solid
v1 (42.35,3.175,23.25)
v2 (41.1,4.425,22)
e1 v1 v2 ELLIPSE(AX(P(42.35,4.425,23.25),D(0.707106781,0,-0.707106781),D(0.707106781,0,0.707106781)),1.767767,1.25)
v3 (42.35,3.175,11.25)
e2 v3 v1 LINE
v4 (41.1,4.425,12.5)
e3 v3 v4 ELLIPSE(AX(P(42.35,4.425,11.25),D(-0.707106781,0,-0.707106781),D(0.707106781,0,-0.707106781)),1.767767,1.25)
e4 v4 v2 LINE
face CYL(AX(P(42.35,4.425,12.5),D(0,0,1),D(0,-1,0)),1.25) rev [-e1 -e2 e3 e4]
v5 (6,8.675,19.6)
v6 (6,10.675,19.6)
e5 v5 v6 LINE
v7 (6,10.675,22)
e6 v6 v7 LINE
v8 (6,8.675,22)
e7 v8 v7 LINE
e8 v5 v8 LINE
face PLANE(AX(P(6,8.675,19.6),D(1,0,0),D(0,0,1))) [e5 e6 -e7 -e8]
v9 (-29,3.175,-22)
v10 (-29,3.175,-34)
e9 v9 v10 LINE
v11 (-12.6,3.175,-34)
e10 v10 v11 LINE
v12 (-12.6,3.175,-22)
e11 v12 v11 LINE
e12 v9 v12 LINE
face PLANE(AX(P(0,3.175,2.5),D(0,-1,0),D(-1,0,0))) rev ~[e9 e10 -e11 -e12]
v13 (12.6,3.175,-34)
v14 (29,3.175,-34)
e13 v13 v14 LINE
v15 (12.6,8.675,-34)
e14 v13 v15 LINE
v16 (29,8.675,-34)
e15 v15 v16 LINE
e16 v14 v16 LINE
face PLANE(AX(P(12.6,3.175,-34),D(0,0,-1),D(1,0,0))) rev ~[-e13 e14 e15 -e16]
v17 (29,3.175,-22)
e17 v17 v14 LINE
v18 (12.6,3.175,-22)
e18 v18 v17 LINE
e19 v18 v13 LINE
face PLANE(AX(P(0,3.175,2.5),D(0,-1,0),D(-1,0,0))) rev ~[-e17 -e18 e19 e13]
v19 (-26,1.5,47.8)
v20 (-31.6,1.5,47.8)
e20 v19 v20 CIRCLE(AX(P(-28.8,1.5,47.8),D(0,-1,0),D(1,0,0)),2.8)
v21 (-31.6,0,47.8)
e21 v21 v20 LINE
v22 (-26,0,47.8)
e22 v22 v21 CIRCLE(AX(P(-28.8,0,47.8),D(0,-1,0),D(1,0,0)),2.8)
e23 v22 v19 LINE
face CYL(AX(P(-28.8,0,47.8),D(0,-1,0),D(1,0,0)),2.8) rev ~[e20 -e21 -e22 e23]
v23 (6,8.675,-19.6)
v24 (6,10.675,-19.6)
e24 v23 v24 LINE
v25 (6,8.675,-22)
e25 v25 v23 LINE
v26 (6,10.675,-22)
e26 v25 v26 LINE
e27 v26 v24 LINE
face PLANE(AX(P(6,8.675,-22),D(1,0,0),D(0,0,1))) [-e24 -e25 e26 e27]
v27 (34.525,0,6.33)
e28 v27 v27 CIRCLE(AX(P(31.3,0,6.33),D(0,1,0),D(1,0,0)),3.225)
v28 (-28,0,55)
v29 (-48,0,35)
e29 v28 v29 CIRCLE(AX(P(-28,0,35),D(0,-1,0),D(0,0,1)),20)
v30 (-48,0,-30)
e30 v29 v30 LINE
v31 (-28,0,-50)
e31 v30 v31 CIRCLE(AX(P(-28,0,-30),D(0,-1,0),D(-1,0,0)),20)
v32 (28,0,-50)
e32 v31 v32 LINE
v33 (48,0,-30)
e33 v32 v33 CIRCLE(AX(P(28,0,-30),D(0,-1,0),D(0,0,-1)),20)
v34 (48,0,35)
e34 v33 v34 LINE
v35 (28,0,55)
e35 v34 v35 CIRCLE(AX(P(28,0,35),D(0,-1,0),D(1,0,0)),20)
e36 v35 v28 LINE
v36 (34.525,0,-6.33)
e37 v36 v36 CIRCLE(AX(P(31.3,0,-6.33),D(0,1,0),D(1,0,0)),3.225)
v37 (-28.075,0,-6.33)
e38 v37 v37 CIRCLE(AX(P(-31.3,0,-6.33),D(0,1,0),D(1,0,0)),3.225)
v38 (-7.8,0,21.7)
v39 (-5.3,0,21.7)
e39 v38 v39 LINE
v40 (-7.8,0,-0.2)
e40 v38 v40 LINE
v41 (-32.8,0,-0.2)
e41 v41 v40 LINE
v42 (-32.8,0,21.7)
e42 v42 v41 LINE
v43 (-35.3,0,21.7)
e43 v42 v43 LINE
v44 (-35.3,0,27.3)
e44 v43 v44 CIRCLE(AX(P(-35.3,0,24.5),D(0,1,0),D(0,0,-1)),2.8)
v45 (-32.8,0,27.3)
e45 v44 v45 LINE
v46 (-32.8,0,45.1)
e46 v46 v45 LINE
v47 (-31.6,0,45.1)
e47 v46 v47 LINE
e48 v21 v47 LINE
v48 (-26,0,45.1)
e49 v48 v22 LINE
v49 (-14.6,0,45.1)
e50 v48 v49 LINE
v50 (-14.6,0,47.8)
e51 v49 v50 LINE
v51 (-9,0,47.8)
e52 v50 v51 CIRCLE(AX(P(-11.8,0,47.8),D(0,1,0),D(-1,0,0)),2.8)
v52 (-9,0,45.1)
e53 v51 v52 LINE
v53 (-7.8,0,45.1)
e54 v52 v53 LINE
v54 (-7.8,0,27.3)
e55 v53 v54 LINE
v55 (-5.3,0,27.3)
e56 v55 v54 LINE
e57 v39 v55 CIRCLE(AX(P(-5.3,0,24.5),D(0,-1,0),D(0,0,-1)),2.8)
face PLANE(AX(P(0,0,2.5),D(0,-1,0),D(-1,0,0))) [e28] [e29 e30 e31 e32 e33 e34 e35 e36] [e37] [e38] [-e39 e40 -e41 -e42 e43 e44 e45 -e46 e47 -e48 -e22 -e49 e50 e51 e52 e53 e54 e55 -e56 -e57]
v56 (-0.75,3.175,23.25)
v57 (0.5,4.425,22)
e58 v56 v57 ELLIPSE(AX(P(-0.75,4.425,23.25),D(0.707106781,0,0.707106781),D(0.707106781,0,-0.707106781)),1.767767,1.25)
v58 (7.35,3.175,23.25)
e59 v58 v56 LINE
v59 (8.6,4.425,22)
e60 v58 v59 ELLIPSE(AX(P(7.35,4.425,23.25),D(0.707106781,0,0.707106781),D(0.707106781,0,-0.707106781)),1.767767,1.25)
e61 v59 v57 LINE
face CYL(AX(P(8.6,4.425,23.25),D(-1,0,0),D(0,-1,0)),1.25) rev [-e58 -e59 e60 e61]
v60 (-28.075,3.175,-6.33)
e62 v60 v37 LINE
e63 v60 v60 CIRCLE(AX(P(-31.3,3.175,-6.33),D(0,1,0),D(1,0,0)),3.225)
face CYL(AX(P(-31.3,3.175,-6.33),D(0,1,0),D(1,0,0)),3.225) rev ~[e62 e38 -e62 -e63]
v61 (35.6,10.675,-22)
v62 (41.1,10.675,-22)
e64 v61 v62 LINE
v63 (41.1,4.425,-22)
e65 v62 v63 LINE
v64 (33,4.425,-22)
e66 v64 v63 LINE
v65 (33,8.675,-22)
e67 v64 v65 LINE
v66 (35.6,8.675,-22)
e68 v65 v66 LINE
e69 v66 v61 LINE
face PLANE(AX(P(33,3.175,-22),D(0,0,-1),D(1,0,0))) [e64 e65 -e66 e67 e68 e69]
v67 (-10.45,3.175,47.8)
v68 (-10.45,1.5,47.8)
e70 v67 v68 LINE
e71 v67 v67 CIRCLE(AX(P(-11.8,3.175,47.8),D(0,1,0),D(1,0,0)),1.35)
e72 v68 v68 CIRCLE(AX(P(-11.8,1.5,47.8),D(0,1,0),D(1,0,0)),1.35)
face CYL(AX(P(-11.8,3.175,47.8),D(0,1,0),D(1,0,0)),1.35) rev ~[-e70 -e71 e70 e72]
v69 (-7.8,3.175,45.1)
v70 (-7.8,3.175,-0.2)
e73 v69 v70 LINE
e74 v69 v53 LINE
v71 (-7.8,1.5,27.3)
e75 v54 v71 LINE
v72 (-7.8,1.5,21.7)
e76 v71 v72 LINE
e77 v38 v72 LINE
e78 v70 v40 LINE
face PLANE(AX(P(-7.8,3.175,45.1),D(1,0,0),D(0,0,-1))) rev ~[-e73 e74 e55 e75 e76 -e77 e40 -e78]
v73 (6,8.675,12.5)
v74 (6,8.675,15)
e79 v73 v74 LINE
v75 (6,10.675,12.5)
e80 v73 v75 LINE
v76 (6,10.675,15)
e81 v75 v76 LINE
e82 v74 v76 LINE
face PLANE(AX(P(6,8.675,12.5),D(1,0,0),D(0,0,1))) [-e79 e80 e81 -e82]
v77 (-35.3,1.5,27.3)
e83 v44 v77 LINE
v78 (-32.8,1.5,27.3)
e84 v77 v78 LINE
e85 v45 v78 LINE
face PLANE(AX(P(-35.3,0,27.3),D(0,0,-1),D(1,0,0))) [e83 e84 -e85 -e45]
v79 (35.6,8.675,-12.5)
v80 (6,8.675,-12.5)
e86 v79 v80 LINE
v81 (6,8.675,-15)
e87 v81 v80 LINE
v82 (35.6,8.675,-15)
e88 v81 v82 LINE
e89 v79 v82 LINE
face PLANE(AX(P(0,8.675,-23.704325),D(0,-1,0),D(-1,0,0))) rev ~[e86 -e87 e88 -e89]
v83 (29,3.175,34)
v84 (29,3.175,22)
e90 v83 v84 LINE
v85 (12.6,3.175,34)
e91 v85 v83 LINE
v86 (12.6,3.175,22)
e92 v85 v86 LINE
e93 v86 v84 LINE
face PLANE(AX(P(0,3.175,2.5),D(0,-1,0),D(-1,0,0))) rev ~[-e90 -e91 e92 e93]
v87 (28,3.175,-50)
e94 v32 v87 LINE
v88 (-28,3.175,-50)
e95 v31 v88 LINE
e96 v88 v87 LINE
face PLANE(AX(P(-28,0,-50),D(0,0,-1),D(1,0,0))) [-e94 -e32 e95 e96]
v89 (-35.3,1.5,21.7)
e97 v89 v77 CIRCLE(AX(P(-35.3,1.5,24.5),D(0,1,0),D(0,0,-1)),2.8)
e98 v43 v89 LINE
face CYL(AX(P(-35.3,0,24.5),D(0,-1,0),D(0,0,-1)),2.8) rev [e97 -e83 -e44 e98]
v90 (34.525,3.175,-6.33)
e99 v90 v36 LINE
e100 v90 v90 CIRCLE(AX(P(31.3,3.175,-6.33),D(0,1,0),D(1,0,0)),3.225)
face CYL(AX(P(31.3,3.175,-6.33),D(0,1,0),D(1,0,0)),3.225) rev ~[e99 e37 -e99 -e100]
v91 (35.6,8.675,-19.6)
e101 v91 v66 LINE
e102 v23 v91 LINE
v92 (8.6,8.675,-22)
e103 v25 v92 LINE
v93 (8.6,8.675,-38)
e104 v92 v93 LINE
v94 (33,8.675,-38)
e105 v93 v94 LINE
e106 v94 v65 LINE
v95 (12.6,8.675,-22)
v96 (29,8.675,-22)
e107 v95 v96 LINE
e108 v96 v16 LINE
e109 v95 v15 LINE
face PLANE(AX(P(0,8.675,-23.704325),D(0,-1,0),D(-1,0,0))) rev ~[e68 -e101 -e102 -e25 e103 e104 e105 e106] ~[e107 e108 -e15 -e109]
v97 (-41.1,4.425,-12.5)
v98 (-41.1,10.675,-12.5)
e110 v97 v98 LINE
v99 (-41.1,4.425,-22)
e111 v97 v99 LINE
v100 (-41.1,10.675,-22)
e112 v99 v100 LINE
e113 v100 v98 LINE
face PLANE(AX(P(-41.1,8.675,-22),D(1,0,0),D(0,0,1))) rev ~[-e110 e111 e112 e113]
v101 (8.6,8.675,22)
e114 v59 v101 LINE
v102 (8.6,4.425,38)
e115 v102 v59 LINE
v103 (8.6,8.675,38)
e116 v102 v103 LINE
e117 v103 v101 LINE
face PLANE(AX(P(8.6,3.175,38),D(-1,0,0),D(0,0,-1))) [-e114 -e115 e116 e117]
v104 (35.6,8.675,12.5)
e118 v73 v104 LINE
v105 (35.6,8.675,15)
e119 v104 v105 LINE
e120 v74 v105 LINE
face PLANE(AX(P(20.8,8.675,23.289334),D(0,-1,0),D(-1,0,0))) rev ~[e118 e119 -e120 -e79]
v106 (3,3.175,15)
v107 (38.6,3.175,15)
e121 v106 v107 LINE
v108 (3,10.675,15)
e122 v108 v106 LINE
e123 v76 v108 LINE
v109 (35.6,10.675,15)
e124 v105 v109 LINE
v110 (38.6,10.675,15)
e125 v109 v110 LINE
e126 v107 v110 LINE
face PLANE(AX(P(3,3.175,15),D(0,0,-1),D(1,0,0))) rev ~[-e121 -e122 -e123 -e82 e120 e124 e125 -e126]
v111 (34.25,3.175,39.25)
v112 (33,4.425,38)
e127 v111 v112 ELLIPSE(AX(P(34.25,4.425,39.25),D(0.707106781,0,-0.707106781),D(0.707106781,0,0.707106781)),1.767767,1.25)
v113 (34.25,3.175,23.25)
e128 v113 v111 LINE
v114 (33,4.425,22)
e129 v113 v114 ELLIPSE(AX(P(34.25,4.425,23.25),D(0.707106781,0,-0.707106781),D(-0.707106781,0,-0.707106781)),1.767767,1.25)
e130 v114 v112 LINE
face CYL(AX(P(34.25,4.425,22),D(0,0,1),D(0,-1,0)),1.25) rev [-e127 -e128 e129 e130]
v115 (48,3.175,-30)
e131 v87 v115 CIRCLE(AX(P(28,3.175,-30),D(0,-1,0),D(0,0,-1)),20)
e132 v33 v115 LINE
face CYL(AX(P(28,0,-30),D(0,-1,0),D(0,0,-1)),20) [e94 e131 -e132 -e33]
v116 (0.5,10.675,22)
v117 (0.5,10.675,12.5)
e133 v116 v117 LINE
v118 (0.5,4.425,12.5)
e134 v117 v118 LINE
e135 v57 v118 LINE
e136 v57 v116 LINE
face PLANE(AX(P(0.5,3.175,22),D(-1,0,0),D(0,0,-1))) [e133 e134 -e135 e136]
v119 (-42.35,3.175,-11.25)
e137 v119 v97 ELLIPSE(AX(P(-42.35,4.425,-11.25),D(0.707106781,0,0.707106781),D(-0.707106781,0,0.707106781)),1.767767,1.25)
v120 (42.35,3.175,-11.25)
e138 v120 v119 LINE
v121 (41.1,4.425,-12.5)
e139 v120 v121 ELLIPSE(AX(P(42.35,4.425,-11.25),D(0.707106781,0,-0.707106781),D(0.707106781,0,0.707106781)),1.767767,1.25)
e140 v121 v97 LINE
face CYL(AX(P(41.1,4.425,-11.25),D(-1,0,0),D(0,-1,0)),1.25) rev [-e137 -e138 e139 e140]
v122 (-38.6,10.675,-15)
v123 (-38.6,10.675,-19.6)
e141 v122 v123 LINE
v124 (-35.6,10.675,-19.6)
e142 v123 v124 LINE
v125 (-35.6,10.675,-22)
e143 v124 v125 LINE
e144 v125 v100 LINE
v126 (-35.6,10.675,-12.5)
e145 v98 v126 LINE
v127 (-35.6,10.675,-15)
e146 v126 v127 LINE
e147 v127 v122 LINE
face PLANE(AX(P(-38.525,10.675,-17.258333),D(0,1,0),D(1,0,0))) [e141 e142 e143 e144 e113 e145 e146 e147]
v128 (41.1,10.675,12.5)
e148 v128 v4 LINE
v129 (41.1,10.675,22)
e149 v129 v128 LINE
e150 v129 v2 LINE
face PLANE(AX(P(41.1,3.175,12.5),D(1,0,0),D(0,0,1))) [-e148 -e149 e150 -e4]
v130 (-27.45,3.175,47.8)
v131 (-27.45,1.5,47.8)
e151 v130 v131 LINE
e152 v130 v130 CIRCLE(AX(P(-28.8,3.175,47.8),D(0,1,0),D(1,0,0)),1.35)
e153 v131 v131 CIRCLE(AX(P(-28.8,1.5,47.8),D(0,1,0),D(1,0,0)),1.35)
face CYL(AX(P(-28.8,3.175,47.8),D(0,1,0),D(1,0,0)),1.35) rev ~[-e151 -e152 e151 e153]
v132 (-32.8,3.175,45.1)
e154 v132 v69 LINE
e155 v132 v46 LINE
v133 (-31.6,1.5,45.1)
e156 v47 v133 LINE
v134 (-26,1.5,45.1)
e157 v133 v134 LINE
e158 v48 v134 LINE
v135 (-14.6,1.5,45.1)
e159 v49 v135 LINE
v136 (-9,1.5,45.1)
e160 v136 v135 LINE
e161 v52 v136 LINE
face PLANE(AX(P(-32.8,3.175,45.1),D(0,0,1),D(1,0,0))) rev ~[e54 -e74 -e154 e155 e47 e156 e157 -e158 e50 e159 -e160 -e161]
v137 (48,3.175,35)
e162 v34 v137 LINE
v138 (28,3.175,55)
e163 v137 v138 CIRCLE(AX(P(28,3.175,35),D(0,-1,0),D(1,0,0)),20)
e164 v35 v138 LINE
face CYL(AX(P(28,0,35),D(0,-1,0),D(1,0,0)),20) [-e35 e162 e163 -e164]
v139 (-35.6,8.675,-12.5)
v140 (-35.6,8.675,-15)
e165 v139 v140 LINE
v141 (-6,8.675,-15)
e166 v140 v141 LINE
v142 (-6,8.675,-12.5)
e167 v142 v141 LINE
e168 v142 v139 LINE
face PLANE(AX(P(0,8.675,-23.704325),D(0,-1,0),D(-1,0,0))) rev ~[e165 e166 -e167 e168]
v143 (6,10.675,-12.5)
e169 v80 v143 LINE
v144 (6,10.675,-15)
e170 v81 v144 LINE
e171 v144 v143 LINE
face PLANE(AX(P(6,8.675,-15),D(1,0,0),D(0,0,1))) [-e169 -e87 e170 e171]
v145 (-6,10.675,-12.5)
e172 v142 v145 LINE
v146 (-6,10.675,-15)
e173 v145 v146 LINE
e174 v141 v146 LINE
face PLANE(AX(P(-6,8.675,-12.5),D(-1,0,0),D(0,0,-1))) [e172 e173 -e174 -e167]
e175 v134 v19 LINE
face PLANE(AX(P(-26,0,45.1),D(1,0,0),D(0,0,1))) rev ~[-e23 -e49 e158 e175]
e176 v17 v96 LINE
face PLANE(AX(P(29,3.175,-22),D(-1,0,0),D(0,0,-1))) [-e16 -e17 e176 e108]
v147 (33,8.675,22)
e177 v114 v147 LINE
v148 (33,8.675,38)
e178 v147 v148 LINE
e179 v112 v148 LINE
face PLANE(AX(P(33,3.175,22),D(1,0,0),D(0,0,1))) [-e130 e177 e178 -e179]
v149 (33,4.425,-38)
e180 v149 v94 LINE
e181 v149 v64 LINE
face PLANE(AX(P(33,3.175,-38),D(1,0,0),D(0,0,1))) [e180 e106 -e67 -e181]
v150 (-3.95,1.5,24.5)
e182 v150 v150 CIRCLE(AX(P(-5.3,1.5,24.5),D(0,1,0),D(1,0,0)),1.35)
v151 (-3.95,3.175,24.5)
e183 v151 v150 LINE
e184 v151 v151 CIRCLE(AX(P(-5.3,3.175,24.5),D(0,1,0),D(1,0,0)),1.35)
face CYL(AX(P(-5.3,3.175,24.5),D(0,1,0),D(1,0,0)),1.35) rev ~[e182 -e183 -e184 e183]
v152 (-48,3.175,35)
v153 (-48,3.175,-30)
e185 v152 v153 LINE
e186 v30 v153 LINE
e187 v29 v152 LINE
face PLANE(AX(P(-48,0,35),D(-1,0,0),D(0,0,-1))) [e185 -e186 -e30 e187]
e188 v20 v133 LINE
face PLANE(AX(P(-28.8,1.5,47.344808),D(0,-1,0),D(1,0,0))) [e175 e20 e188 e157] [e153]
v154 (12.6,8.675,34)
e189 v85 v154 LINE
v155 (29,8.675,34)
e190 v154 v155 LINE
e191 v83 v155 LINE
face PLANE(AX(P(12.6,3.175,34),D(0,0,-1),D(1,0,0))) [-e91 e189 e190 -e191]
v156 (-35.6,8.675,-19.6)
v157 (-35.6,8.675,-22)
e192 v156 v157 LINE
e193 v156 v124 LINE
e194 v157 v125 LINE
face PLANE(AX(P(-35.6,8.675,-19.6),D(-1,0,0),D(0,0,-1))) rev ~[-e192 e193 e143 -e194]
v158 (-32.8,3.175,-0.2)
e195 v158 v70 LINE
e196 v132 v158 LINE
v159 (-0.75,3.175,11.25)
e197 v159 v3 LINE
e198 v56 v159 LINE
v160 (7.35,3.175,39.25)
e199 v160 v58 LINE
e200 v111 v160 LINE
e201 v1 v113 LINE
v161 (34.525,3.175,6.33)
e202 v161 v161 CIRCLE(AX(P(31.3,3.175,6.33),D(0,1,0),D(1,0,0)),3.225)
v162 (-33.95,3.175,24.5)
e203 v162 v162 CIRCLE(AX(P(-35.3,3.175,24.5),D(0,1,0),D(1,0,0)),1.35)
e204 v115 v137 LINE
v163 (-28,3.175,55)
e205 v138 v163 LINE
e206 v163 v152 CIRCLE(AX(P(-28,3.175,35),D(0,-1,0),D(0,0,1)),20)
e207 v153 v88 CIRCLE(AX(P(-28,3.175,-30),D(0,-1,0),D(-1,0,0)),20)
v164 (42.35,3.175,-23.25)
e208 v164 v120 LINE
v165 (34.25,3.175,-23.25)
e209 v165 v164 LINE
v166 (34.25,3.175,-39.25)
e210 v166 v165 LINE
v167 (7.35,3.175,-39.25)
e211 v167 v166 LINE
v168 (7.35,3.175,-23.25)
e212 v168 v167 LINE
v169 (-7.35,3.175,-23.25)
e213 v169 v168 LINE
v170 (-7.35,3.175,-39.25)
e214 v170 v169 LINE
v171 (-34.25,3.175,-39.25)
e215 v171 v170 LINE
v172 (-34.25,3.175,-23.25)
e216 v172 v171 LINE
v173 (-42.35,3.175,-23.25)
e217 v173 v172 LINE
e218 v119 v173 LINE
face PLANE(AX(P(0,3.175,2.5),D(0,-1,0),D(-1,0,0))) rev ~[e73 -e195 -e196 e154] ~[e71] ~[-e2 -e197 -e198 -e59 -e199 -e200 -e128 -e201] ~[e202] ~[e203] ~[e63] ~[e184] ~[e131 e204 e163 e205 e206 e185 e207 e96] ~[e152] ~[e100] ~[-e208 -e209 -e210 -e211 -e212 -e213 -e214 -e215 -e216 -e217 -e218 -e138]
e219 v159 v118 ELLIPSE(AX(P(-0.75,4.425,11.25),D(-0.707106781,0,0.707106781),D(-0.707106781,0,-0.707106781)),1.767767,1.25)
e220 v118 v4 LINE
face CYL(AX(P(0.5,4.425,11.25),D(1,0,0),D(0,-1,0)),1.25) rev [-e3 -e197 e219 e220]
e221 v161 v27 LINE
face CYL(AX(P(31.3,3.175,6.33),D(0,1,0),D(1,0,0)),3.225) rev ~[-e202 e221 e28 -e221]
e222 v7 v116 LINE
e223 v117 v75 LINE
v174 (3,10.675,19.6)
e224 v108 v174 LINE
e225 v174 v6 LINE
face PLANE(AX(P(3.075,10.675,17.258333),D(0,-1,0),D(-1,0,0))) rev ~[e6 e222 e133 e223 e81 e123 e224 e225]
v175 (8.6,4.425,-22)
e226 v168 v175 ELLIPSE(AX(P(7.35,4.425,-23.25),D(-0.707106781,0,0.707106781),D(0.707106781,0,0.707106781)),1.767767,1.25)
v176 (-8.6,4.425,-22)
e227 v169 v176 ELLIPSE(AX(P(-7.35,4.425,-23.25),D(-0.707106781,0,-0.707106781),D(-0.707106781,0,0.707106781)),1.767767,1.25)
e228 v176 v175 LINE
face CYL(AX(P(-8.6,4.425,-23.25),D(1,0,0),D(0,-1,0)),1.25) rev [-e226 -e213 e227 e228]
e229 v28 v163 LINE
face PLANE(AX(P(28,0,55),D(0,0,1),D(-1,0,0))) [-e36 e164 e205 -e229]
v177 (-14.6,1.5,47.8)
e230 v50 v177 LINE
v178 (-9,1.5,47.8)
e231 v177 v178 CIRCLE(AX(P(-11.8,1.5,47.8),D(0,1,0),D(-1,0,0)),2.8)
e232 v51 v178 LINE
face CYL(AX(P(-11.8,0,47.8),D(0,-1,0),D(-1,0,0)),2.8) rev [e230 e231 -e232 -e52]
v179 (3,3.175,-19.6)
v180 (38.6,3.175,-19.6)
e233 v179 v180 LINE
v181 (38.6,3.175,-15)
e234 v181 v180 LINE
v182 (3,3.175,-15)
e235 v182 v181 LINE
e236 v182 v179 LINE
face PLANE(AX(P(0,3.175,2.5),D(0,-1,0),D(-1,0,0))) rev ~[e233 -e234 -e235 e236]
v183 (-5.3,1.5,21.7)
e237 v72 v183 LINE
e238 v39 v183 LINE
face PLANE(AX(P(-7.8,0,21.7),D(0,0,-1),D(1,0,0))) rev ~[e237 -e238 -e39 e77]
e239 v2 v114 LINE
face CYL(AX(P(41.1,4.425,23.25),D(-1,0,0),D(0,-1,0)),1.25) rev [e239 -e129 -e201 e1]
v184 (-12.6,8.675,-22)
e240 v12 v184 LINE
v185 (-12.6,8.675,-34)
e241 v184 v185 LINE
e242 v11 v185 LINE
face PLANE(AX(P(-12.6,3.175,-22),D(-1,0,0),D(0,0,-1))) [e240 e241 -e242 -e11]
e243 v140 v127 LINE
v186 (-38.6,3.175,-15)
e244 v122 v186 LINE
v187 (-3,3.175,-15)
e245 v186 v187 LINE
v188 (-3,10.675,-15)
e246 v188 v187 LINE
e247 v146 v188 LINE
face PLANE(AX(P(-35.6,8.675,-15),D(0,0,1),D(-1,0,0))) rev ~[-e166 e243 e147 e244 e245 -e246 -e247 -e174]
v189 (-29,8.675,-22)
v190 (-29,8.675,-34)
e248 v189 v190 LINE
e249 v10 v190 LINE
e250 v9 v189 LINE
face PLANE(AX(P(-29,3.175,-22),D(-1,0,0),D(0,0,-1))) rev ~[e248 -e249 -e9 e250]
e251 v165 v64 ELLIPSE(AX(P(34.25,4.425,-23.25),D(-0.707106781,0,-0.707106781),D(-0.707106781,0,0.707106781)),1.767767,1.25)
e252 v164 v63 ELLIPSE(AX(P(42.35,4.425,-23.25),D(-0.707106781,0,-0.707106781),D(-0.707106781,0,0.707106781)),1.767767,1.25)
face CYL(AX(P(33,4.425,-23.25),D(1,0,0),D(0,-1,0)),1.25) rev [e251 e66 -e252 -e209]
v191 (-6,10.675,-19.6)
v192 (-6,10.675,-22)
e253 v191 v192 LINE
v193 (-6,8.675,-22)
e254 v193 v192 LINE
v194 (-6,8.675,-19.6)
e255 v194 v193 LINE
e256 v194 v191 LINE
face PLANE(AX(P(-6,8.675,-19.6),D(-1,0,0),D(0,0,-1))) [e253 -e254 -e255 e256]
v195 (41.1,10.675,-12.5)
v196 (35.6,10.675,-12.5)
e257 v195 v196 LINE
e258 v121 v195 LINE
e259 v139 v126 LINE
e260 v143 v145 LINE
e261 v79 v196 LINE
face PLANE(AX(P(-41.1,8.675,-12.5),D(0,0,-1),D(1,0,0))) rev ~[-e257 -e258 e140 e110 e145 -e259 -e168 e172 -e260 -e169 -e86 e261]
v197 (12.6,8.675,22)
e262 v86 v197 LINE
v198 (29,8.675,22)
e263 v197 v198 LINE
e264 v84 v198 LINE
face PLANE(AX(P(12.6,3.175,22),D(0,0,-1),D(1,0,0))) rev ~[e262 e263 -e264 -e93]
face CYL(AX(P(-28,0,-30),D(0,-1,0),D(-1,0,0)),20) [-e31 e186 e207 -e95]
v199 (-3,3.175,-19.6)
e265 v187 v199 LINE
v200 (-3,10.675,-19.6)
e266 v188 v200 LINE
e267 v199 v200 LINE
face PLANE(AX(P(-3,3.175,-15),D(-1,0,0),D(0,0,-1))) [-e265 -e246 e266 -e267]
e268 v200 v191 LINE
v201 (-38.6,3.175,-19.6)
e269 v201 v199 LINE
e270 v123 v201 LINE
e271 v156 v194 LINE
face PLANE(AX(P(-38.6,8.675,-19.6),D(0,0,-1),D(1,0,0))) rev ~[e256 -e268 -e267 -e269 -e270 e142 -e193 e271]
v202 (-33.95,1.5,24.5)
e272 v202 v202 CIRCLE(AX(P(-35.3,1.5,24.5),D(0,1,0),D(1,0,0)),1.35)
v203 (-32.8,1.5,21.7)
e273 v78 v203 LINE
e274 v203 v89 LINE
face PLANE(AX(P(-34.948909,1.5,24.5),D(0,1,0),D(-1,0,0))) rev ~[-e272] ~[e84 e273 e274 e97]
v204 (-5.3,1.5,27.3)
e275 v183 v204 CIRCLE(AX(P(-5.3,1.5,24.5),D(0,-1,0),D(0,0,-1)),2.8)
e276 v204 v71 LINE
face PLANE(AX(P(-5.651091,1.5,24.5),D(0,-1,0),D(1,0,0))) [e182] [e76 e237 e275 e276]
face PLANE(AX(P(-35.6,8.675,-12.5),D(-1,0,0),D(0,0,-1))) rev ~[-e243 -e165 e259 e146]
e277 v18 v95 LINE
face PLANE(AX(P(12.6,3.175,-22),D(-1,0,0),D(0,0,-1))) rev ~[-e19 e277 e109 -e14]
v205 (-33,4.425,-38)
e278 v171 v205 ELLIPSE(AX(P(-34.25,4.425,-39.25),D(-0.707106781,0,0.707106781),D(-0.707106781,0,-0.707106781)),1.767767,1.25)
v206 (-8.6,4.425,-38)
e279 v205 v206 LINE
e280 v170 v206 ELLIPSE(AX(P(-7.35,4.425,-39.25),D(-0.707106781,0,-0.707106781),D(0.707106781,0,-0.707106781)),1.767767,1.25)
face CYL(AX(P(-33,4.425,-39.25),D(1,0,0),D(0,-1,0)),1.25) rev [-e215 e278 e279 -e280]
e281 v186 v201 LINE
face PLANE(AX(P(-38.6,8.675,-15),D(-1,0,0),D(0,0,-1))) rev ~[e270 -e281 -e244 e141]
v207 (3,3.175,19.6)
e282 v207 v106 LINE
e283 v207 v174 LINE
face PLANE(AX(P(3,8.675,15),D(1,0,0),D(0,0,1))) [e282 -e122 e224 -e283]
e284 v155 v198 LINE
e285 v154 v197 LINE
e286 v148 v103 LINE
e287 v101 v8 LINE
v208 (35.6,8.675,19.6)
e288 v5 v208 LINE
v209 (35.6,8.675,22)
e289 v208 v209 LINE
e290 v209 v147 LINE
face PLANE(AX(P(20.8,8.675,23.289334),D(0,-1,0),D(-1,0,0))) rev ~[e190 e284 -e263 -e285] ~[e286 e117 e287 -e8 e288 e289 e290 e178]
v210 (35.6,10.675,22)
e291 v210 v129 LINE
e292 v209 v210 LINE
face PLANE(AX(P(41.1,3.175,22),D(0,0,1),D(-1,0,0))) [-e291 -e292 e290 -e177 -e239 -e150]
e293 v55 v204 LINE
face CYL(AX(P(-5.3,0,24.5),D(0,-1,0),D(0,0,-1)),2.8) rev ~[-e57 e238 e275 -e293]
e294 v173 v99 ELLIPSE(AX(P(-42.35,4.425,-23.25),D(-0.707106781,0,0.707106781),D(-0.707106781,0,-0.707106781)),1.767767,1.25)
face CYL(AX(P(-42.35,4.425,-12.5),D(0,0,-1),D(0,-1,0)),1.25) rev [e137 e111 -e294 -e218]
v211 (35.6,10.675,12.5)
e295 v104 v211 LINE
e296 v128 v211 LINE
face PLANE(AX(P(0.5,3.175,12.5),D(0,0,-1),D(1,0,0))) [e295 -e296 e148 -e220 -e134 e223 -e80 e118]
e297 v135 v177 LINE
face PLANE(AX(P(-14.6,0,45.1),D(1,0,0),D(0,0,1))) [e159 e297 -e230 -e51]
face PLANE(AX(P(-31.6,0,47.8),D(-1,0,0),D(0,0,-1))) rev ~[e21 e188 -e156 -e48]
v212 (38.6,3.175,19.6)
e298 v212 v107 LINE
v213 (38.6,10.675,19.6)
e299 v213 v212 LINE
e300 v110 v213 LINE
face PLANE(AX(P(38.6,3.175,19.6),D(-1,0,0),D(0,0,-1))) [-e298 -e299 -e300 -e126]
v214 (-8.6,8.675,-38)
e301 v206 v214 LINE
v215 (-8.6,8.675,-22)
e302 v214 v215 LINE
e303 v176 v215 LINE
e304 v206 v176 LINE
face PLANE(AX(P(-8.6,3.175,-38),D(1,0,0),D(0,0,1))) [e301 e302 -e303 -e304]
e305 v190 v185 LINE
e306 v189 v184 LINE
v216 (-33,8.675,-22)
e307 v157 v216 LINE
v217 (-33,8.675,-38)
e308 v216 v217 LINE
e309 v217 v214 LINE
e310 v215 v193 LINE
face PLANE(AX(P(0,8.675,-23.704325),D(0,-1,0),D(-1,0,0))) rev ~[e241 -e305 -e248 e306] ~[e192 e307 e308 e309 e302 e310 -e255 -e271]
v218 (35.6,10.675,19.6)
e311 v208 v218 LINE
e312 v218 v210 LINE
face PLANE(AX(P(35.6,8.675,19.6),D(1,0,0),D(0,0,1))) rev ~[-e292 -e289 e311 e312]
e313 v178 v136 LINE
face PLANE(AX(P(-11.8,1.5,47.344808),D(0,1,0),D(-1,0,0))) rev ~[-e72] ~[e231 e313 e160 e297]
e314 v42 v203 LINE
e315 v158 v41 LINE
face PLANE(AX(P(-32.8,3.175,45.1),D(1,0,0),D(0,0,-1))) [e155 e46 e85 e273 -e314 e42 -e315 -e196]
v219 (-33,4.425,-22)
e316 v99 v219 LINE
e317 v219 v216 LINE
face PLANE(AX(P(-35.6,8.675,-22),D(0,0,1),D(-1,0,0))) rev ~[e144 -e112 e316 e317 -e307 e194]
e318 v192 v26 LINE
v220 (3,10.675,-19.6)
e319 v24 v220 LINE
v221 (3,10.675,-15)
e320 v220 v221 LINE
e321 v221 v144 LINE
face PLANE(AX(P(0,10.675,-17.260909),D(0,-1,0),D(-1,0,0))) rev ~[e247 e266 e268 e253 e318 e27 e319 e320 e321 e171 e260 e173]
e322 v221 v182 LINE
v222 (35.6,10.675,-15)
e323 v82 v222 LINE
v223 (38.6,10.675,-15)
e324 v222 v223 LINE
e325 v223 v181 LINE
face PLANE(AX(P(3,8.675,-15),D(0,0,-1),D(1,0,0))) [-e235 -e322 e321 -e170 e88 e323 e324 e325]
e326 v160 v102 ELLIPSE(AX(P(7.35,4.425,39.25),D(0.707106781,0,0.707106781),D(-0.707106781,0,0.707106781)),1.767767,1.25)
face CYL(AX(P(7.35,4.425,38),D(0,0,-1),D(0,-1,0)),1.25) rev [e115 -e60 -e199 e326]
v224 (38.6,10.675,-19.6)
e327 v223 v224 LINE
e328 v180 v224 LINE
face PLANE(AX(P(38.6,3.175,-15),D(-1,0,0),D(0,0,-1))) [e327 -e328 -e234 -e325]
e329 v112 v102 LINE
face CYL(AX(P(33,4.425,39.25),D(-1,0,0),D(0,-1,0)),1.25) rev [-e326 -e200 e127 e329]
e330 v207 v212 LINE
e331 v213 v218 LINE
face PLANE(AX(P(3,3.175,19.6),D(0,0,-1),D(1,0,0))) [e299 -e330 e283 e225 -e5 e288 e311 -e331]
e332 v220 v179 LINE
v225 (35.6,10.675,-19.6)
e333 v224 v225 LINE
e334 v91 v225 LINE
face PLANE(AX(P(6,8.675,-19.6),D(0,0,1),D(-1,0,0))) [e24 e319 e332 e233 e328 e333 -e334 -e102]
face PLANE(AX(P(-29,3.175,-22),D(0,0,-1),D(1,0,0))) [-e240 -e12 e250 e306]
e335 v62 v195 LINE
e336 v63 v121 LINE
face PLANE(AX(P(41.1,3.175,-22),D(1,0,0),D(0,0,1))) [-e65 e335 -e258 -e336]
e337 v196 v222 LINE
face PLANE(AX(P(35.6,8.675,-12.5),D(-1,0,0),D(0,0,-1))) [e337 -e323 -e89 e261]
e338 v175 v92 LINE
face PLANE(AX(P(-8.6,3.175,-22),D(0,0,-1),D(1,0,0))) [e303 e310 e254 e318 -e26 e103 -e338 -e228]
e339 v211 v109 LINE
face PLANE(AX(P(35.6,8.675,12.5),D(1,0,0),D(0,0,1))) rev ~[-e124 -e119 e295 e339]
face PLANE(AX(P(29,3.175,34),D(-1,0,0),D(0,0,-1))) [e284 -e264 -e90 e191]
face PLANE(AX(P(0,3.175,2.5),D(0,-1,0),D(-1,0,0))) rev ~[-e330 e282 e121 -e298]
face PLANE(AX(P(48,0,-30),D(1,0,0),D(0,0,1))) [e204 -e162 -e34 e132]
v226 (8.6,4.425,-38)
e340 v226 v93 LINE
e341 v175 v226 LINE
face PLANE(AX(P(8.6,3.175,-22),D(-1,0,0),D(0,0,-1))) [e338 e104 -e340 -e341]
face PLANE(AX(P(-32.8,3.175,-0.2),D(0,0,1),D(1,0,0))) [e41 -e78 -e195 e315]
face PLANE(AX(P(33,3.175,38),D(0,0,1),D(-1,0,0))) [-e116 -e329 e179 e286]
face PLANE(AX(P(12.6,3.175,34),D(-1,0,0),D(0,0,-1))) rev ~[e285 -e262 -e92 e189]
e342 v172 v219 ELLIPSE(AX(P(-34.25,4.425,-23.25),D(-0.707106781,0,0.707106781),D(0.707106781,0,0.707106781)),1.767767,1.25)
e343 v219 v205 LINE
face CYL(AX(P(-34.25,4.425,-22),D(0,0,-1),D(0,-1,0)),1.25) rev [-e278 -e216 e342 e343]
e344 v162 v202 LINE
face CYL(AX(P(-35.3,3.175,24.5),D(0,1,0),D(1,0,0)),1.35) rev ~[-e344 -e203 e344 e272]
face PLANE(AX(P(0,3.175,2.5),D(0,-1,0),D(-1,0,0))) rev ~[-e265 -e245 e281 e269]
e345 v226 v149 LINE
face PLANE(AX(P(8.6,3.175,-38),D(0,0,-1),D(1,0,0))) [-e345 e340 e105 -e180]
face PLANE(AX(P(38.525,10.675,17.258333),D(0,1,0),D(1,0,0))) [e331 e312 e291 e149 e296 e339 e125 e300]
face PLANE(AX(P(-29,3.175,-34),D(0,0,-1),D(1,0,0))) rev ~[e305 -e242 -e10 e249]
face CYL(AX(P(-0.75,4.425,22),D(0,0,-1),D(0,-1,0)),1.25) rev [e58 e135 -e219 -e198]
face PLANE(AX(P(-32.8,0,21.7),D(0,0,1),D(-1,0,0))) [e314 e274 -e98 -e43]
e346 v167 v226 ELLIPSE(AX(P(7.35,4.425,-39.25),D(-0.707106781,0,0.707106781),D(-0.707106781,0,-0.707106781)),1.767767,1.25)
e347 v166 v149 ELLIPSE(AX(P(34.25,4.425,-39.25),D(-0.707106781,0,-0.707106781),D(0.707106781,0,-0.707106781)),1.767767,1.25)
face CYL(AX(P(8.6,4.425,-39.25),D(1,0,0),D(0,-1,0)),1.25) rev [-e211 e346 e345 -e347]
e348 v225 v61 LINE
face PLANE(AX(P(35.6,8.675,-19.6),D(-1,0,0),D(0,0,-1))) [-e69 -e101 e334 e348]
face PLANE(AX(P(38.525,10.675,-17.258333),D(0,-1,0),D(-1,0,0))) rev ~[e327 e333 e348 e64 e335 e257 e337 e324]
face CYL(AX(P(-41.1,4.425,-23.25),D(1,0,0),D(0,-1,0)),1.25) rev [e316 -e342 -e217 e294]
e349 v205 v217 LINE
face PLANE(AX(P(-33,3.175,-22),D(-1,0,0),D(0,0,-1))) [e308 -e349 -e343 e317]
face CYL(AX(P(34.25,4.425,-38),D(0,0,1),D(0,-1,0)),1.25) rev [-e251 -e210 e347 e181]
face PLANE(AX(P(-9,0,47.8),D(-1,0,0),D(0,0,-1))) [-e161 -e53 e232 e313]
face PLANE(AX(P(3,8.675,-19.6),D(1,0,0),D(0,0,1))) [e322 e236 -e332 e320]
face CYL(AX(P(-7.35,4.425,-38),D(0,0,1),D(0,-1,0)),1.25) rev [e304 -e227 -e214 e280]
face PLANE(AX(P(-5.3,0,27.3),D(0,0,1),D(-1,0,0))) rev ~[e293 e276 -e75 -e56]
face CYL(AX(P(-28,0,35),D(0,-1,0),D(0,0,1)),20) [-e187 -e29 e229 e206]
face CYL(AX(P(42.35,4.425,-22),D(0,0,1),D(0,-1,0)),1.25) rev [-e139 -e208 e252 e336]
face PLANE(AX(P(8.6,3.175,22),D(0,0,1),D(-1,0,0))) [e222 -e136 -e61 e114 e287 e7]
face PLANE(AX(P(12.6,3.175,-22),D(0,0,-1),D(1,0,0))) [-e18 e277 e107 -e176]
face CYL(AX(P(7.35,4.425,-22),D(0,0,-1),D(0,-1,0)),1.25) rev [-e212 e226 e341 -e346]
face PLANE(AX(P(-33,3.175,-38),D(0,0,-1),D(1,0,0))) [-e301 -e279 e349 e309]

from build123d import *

# Parameters (mm, degrees)
W_TOP_DEPTH         = 3.175
SKETCH3_W           = 35.6
SKETCH3_H           = 4.6
SKETCH3_W_2         = 16.4
SKETCH3_H_2         = 12
A_HOLDERS_DEPTH     = 5.5
HOLDER_CHAMFER_R    = 1.25
A_CLAMP_DEPTH       = 2
SKETCH12_R          = 1.35
SKETCH12_W          = 25
SKETCH12_H          = 45.3
A_HOLES_DEPTH       = 3.175
A_HOLES_GUIDE_DEPTH = 1.5
SKETCH15_R          = 3.225
TENDON_HOLES_DEPTH  = 3.175


with BuildPart() as part:
    # Sketch1 → w_top (new body)
    with BuildSketch(Plane(origin=(0, 0, 0), x_dir=(1, 0, 0), z_dir=(0, 1, 0))):
        with BuildLine():
            Line((-48, -35), (-48, 30))
            ThreePointArc((-48, 30), (-42.142135624, 44.142135624), (-28, 50))
            Line((-28, 50), (28, 50))
            ThreePointArc((28, 50), (42.142135624, 44.142135624), (48, 30))
            Line((48, 30), (48, -35))
            ThreePointArc((48, -35), (42.142135624, -49.142135624), (28, -55))
            Line((28, -55), (-28, -55))
            ThreePointArc((-28, -55), (-42.142135624, -49.142135624), (-48, -35))
        make_face()
    extrude(amount=W_TOP_DEPTH)

    # Sketch3 → a_holders (add)
    with BuildSketch(Plane(origin=(0, 3.175, 0), x_dir=(1, 0, 0), z_dir=(0, 1, 0))):
        Polygon((-33, 22), (-33, 38), (-8.6, 38), (-8.6, 22), (8.6, 22), (8.6, 38), (33, 38), (33, 22), (41.1, 22), (41.1, 12.5), (-41.1, 12.5), (-41.1, 22), align=None)
        with Locations((20.8, 17.3)):
            Rectangle(SKETCH3_W, SKETCH3_H, mode=Mode.SUBTRACT)
        with Locations((-20.8, 17.3)):
            Rectangle(SKETCH3_W, SKETCH3_H, mode=Mode.SUBTRACT)
        with Locations((-20.8, 28)):
            Rectangle(SKETCH3_W_2, SKETCH3_H_2, mode=Mode.SUBTRACT)
        with Locations((20.8, 28)):
            Rectangle(SKETCH3_W_2, SKETCH3_H_2, mode=Mode.SUBTRACT)
        Polygon((8.6, -22), (0.5, -22), (0.5, -12.5), (41.1, -12.5), (41.1, -22), (33, -22), (33, -38), (8.6, -38), align=None)
        with Locations((20.8, -17.3)):
            Rectangle(SKETCH3_W, SKETCH3_H, mode=Mode.SUBTRACT)
        with Locations((20.8, -28)):
            Rectangle(SKETCH3_W_2, SKETCH3_H_2, mode=Mode.SUBTRACT)
    extrude(amount=A_HOLDERS_DEPTH)

    # holder_chamfer
    holder_chamfer_edges = [part.edges().sort_by_distance(p)[0] for p in [
        (0.5, 3.175, 17.25),
        (20.8, 3.175, 12.5),
        (41.1, 3.175, 17.25),
        (37.05, 3.175, 22),
        (33, 3.175, 30),
        (20.8, 3.175, 38),
        (8.6, 3.175, 30),
        (4.55, 3.175, 22),
        (41.1, 3.175, -17.25),
        (0, 3.175, -12.5),
        (-41.1, 3.175, -17.25),
        (-37.05, 3.175, -22),
        (-33, 3.175, -30),
        (-20.8, 3.175, -38),
        (-8.6, 3.175, -30),
        (0, 3.175, -22),
        (8.6, 3.175, -30),
        (20.8, 3.175, -38),
        (33, 3.175, -30),
        (37.05, 3.175, -22),
    ]]
    fillet(holder_chamfer_edges, radius=HOLDER_CHAMFER_R)

    # Sketch14 → a_clamp (add)
    with BuildSketch(Plane(origin=(0, 8.675, 0), x_dir=(1, 0, 0), z_dir=(0, 1, 0))):
        Polygon((-35.6, 19.6), (-35.6, 22), (-41.1, 22), (-41.1, 12.5), (-35.6, 12.5), (-35.6, 15), (-38.6, 15), (-38.6, 19.6), align=None)
        Polygon((-3, 19.6), (-6, 19.6), (-6, 22), (6, 22), (6, 19.6), (3, 19.6), (3, 15), (6, 15), (6, 12.5), (-6, 12.5), (-6, 15), (-3, 15), align=None)
        Polygon((38.6, 19.6), (35.6, 19.6), (35.6, 22), (41.1, 22), (41.1, 12.5), (35.6, 12.5), (35.6, 15), (38.6, 15), align=None)
        Polygon((0.5, -12.5), (6, -12.5), (6, -15), (3, -15), (3, -19.6), (6, -19.6), (6, -22), (0.5, -22), align=None)
        Polygon((35.6, -19.6), (35.6, -22), (41.1, -22), (41.1, -12.5), (35.6, -12.5), (35.6, -15), (38.6, -15), (38.6, -19.6), align=None)
    extrude(amount=A_CLAMP_DEPTH)

    # Sketch12 → a_holes (cut)
    with BuildSketch(Plane(origin=(0, 3.175, 0), x_dir=(1, 0, 0), z_dir=(0, 1, 0))):
        with Locations((-28.8, -47.8)):
            Circle(SKETCH12_R)
        with Locations((-11.8, -47.8)):
            Circle(SKETCH12_R)
        with Locations((-35.3, -24.5)):
            Circle(SKETCH12_R)
        with Locations((-5.3, -24.5)):
            Circle(SKETCH12_R)
        with Locations((-20.3, -22.45)):
            Rectangle(SKETCH12_W, SKETCH12_H)
    extrude(amount=-A_HOLES_DEPTH, mode=Mode.SUBTRACT)

    # Sketch13 → a_holes guide (cut)
    with BuildSketch(Plane.XZ):
        with BuildLine():
            Line((-31.6, 47.8), (-31.6, 45.1))
            Line((-31.6, 45.1), (-26, 45.1))
            Line((-26, 45.1), (-26, 47.8))
            ThreePointArc((-26, 47.8), (-28.8, 50.6), (-31.6, 47.8))
        make_face()
        with BuildLine():
            Line((-35.3, 27.3), (-32.8, 27.3))
            Line((-32.8, 27.3), (-32.8, 21.7))
            Line((-32.8, 21.7), (-35.3, 21.7))
            ThreePointArc((-35.3, 21.7), (-38.1, 24.5), (-35.3, 27.3))
        make_face()
        with BuildLine():
            Line((-7.8, 21.7), (-5.3, 21.7))
            ThreePointArc((-5.3, 21.7), (-2.5, 24.5), (-5.3, 27.3))
            Line((-5.3, 27.3), (-7.8, 27.3))
            Line((-7.8, 27.3), (-7.8, 21.7))
        make_face()
        with BuildLine():
            Line((-14.6, 45.1), (-14.6, 47.8))
            ThreePointArc((-14.6, 47.8), (-11.8, 50.6), (-9, 47.8))
            Line((-9, 47.8), (-9, 45.1))
            Line((-9, 45.1), (-14.6, 45.1))
        make_face()
    extrude(amount=-A_HOLES_GUIDE_DEPTH, mode=Mode.SUBTRACT)

    # Sketch15 → tendon holes (cut)
    with BuildSketch(Plane(origin=(0, 3.175, 0), x_dir=(1, 0, 0), z_dir=(0, 1, 0))):
        with Locations((-31.3, 6.33)):
            Circle(SKETCH15_R)
        with Locations((31.3, 6.33)):
            Circle(SKETCH15_R)
        with Locations((31.3, -6.33)):
            Circle(SKETCH15_R)
    extrude(amount=-TENDON_HOLES_DEPTH, mode=Mode.SUBTRACT)


solid = part.part
